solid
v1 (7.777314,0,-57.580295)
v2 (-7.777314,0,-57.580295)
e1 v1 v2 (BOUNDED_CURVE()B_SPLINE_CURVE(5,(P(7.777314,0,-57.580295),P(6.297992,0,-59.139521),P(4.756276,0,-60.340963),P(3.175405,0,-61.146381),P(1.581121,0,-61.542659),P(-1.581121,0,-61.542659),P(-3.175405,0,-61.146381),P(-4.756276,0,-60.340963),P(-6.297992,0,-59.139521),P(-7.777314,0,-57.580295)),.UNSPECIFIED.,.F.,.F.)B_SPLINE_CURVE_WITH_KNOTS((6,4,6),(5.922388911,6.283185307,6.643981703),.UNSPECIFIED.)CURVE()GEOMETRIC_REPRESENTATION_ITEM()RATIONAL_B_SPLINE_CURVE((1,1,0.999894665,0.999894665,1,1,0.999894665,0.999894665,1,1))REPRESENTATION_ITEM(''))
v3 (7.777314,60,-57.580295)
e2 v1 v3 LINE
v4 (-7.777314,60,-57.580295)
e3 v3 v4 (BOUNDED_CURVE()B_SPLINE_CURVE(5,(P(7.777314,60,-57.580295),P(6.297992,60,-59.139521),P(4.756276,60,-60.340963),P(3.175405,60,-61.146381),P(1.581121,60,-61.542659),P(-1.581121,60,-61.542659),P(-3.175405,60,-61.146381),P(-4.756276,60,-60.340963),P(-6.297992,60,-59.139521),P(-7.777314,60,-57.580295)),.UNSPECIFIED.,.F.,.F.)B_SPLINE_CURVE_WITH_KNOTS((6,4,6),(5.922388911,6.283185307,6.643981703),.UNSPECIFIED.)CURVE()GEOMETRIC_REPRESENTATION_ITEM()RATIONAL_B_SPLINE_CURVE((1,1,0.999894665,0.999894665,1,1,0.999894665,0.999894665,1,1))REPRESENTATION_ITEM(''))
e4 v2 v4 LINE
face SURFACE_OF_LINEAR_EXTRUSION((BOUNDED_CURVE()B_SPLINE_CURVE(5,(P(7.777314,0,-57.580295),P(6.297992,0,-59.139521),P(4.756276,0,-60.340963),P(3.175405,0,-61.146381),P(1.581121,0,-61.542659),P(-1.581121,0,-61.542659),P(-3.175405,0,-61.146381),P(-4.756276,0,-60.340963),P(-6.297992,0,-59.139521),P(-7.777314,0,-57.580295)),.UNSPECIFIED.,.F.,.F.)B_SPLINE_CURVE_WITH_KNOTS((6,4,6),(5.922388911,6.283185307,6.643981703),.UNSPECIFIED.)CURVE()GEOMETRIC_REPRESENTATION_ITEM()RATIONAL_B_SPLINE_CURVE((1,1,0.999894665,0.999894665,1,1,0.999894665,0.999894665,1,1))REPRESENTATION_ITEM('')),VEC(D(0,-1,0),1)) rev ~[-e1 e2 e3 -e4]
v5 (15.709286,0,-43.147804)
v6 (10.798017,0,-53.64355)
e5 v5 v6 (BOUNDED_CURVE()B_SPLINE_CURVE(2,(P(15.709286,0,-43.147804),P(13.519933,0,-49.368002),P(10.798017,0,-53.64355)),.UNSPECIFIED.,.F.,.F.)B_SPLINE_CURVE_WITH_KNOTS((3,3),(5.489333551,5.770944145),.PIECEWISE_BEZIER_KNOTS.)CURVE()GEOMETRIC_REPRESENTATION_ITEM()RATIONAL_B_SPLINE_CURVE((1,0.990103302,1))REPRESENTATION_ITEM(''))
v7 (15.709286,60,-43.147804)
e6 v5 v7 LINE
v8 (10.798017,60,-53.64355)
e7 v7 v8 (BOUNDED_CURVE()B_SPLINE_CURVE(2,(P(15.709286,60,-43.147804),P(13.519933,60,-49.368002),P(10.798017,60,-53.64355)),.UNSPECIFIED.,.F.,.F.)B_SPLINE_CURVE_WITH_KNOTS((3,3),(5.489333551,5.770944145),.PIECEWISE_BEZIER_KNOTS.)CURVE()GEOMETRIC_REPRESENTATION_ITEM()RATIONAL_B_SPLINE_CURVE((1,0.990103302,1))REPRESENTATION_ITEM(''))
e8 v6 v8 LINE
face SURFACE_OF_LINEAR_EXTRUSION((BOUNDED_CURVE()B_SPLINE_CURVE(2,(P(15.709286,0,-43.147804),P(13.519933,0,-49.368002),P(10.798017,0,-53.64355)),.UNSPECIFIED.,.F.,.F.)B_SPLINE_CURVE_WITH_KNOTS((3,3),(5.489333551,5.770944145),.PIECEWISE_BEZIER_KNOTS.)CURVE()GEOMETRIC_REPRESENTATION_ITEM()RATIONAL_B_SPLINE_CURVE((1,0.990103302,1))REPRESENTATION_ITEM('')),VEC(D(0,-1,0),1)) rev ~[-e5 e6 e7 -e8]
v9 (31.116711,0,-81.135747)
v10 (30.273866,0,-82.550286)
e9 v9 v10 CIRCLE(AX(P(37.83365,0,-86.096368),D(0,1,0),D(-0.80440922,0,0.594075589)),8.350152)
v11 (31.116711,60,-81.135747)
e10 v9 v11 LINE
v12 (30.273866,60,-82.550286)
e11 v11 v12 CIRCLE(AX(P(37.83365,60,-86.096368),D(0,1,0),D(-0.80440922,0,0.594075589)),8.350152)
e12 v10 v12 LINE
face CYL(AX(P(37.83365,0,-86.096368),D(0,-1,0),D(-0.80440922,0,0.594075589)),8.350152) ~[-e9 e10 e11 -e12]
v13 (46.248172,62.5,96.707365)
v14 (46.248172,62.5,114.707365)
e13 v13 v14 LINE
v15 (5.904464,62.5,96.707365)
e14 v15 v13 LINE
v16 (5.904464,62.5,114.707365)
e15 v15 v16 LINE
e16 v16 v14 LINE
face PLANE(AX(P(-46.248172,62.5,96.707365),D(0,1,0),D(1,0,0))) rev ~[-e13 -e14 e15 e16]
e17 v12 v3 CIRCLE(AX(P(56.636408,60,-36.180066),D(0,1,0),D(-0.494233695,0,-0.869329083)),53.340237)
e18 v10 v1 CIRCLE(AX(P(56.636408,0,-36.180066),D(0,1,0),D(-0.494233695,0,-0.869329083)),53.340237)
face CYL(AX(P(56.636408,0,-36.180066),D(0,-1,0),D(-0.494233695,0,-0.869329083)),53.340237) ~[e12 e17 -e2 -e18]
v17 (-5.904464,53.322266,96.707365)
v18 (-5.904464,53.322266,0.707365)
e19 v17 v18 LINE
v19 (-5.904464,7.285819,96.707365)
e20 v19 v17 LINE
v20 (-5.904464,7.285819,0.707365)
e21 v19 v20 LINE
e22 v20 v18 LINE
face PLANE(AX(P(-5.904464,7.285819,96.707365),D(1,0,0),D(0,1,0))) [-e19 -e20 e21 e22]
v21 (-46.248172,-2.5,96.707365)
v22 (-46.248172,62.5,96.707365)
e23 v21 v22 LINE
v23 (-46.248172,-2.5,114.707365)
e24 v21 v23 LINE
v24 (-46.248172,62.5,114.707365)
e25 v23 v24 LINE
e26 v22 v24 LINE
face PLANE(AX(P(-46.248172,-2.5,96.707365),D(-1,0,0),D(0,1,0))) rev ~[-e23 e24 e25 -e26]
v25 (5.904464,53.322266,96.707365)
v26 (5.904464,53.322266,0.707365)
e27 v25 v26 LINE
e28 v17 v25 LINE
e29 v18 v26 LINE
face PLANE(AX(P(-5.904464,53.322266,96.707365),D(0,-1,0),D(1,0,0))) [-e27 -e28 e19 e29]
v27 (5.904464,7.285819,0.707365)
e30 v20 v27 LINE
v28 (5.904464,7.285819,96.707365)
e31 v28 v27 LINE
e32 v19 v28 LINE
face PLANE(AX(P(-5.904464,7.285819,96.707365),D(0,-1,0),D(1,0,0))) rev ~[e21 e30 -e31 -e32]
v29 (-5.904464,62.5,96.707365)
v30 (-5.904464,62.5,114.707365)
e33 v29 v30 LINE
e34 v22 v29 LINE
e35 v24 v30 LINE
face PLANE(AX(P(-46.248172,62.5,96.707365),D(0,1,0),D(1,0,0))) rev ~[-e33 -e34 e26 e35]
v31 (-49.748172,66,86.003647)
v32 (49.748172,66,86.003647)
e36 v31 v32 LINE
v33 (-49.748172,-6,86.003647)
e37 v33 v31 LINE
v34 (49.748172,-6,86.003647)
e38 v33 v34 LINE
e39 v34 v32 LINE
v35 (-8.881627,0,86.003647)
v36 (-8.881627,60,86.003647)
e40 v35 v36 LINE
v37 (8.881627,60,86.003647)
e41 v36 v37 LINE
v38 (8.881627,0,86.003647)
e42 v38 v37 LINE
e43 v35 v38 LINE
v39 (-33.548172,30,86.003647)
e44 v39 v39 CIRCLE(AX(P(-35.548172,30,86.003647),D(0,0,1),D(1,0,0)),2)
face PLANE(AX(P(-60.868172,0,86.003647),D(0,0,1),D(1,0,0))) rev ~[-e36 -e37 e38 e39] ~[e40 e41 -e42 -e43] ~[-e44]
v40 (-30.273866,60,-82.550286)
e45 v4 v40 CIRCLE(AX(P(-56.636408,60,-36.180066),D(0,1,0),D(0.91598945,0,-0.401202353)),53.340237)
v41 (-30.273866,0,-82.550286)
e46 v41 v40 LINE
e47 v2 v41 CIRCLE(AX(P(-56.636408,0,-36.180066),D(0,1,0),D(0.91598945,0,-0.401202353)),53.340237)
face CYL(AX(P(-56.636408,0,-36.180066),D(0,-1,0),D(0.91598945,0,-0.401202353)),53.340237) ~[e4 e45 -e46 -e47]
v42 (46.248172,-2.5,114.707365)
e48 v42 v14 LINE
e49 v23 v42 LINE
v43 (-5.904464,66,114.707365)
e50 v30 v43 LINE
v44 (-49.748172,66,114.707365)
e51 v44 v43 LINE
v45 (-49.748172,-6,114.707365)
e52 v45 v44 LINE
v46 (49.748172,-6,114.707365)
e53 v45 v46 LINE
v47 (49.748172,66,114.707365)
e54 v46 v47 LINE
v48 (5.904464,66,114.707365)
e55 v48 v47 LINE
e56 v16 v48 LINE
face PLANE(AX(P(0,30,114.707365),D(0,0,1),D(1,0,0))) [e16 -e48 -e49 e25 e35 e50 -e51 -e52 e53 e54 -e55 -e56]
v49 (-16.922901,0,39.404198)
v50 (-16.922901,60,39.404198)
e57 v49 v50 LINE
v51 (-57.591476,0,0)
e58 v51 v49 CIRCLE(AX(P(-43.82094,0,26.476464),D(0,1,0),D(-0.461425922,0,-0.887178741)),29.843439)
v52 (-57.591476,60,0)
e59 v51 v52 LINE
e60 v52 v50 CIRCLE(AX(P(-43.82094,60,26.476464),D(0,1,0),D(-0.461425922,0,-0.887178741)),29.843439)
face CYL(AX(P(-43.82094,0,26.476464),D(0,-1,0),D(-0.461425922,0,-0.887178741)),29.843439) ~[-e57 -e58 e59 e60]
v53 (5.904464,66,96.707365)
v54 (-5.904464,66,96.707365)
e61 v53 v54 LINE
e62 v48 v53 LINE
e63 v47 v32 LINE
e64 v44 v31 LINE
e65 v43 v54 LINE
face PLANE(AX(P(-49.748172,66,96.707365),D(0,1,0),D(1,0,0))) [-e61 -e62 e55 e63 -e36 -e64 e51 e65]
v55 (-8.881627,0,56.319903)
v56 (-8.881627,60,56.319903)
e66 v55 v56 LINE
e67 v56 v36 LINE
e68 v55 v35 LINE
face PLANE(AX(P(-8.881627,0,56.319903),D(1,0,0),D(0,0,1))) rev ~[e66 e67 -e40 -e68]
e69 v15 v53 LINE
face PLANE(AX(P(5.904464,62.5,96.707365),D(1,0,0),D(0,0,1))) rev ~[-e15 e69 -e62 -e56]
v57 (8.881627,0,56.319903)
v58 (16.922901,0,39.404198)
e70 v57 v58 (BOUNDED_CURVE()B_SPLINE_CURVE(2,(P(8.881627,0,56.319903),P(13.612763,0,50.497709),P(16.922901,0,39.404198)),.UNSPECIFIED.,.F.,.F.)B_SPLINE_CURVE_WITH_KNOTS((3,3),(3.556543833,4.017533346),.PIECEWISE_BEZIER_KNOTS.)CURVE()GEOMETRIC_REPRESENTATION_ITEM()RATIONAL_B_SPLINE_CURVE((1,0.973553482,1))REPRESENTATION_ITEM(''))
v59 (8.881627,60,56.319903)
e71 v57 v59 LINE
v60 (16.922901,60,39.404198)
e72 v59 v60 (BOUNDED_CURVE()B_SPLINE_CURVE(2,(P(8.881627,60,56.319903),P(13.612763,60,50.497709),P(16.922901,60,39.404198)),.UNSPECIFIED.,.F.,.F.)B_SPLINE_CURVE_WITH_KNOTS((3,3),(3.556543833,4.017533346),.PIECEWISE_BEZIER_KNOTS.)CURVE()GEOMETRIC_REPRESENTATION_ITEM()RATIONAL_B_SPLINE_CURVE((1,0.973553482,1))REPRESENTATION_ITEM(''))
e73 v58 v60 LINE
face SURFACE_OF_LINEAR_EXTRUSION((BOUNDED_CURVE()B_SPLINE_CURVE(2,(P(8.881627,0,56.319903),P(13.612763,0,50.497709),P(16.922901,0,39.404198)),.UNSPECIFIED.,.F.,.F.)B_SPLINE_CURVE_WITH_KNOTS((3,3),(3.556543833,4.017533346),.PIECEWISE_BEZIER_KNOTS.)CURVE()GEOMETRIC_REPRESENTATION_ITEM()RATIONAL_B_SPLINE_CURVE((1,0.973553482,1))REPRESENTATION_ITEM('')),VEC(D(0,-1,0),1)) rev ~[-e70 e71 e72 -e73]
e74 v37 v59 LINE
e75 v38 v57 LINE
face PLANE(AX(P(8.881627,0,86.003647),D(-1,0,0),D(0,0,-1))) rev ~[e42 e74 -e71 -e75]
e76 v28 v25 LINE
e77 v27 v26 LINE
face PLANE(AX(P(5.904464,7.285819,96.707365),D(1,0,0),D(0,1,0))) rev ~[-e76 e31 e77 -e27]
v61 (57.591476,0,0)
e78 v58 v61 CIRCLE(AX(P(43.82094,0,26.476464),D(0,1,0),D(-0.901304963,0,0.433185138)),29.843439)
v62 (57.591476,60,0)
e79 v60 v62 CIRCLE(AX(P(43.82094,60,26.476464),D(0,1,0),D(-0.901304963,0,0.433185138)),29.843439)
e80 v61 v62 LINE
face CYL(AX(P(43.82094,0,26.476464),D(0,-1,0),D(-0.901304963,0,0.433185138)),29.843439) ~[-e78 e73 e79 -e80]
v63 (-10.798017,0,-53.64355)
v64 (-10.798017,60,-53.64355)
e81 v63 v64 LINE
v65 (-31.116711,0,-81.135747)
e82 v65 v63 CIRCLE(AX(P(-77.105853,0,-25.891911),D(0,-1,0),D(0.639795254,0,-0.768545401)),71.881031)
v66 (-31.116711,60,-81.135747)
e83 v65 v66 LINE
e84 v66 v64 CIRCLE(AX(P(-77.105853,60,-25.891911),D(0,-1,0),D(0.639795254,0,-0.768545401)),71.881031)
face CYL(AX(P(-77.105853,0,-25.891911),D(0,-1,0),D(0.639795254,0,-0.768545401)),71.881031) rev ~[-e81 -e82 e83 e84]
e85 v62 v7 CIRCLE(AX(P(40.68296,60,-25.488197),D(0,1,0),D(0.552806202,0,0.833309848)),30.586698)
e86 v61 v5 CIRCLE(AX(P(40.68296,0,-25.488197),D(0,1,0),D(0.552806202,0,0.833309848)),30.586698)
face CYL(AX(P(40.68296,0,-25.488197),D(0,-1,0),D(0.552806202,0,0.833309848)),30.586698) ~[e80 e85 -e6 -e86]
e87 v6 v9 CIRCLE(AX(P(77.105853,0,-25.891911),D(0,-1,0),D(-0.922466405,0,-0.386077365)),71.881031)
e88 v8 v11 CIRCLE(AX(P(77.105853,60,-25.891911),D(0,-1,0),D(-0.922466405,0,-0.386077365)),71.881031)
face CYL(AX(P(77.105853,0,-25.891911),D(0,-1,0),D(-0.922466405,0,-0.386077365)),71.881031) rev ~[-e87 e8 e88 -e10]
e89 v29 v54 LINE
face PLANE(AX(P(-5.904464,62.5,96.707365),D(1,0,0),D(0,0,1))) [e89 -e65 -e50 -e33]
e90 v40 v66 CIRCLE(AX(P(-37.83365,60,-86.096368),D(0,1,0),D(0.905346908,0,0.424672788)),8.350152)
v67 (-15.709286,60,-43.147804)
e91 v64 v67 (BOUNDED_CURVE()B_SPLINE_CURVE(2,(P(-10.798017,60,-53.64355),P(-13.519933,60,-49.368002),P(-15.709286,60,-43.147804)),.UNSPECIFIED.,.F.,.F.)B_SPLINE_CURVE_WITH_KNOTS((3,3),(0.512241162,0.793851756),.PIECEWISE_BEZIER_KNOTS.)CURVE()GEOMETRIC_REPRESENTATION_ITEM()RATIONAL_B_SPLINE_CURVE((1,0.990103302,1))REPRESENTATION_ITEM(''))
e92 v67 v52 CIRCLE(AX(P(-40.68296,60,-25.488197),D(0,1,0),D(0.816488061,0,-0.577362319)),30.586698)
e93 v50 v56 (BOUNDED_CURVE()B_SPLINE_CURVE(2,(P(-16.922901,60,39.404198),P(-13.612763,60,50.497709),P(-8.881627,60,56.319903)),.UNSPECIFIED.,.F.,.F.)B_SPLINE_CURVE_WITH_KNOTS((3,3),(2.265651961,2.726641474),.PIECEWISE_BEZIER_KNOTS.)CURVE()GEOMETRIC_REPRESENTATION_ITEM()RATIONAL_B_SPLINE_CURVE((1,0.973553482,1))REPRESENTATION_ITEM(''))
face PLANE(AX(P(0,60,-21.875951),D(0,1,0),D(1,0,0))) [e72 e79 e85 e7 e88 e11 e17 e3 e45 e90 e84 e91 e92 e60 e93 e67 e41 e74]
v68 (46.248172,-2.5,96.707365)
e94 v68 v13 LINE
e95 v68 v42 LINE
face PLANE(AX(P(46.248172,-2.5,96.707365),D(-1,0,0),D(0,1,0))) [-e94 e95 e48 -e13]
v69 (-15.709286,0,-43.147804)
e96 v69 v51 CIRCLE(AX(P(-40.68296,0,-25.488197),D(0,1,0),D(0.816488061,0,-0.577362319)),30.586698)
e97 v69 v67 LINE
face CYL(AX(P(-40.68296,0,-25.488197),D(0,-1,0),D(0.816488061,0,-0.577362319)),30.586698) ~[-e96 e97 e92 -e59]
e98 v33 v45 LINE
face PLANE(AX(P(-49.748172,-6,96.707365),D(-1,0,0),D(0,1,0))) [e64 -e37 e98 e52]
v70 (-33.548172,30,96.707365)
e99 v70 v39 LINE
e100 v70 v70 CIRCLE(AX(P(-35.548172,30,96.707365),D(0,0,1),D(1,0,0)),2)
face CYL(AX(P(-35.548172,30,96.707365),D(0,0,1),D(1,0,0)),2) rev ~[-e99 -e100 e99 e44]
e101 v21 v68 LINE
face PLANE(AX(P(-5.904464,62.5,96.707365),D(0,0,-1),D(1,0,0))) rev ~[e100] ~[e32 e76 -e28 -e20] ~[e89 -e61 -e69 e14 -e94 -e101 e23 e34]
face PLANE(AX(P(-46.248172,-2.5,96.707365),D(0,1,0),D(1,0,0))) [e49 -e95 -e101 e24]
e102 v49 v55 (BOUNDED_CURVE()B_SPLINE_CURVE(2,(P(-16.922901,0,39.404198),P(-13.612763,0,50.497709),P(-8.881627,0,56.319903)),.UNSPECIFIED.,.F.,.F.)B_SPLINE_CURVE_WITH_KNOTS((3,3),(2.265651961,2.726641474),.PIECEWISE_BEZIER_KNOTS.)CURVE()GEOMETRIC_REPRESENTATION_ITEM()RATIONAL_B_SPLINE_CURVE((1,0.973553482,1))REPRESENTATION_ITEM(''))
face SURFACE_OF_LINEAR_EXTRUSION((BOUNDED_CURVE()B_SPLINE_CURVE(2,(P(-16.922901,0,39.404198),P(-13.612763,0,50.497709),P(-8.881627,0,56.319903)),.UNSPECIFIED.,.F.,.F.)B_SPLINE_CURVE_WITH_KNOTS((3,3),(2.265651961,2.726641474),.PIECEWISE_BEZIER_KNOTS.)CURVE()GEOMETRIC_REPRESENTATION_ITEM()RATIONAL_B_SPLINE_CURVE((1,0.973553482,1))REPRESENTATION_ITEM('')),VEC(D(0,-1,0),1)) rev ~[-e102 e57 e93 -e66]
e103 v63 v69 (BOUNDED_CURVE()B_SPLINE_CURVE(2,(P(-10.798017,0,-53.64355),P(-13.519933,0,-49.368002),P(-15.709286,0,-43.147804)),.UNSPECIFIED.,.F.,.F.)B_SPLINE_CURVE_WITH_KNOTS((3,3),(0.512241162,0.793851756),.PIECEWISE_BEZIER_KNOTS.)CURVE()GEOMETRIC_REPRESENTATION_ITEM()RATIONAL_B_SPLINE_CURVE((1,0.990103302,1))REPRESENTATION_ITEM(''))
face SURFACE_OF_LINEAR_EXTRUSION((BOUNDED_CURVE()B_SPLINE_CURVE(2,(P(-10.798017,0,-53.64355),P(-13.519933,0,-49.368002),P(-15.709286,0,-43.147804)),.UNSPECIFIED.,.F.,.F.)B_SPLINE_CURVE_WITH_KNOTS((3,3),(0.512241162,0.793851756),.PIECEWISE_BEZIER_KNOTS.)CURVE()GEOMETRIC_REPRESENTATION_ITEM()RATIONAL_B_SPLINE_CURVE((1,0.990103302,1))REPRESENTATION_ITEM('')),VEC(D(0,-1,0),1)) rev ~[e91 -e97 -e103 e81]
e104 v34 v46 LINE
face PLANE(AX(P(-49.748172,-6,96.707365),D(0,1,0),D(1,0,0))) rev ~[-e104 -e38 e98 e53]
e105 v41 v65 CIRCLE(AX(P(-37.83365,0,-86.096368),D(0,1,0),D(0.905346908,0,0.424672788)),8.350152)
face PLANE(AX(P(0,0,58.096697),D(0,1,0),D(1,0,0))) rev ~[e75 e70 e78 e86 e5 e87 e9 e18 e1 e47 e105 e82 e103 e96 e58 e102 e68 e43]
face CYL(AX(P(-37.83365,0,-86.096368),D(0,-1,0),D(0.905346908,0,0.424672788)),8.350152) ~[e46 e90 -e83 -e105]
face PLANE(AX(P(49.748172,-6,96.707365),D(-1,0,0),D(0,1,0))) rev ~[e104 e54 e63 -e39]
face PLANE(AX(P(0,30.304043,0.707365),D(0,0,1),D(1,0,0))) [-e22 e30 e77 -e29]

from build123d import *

# Parameters (mm, degrees)
BOSS_EXTRUDE1_DEPTH   = 60
BOSS_EXTRUDE1_2_DEPTH = 60
BOSS_EXTRUDE2_DEPTH   = 60
SKETCH5_W             = 11.80892804
SKETCH5_H             = 46.036446736
CUT_EXTRUDE1_DEPTH    = 96
SKETCH6_W             = 121.736344994
SKETCH6_H             = 10.703718027
BOSS_EXTRUDE5_DEPTH   = 6
SKETCH8_W             = 121.736344994
SKETCH8_H             = 10.703718027
BOSS_EXTRUDE6_DEPTH   = 6
SKETCH9_W             = 10.703718027
SKETCH9_H             = 72
CUT_EXTRUDE2_DEPTH    = 11.12
SKETCH10_W            = 10.703718027
SKETCH10_H            = 72
CUT_EXTRUDE3_DEPTH    = 11.12
SKETCH11_W            = 99.496344994
SKETCH11_H            = 72
SKETCH11_W_2          = 92.496344994
SKETCH11_H_2          = 65
BOSS_EXTRUDE7_DEPTH   = 18
SKETCH13_W            = 11.80892804
SKETCH13_H            = 18
CUT_EXTRUDE4_DEPTH    = 18
CUT_EXTRUDE5_REACH    = 217.226


with BuildPart() as part:
    # Sketch2 → Boss-Extrude1 (new body)
    with BuildSketch(Plane(origin=(0, 0, 0), x_dir=(1, 0, 0), z_dir=(0, 1, 0))):
        with BuildLine():
            add(Edge.make_bspline(
                [(7.777313634, 57.580294912), (4.018004463, 61.542658867), (0, 61.542658867)],
                knots=[5.922388911, 5.922388911, 5.922388911, 6.283185307, 6.283185307, 6.283185307], degree=2, weights=[1, 0.983772326, 1]))
            add(Edge.make_bspline(
                [(0, 61.542658867), (-4.018004463, 61.542658867), (-7.777313634, 57.580294912)],
                knots=[0, 0, 0, 0.360796396, 0.360796396, 0.360796396], degree=2, weights=[1, 0.983772326, 1]))
            ThreePointArc((-7.777313634, 57.580294912), (-17.007519977, 71.883457215), (-30.273865697, 82.550285809))
            ThreePointArc((-30.273865697, 82.550285809), (-45.006964161, 90.370546247), (-31.116710716, 81.135746686))
            ThreePointArc((-31.116710716, 81.135746686), (-19.299209246, 68.615142689), (-10.798016849, 53.643549812))
            add(Edge.make_bspline(
                [(-10.798016849, 53.643549812), (-13.519932633, 49.368001998), (-15.70928604, 43.147803925)],
                knots=[0.512241162, 0.512241162, 0.512241162, 0.793851756, 0.793851756, 0.793851756], degree=2, weights=[1, 0.990103302, 1]))
            ThreePointArc((-15.70928604, 43.147803925), (-62.630509673, 46.791979985), (-57.591476489, 0))
            ThreePointArc((-57.591476489, 0), (-64.587633529, -47.909506078), (-16.922901007, -39.404198342))
            add(Edge.make_bspline(
                [(-16.922901007, -39.404198342), (-13.612763141, -50.497708668), (-8.881626587, -56.319902877)],
                knots=[2.265651961, 2.265651961, 2.265651961, 2.726641474, 2.726641474, 2.726641474], degree=2, weights=[1, 0.973553482, 1]))
            Line((-8.881626587, -56.319902877), (8.881626587, -56.319902877))
            add(Edge.make_bspline(
                [(8.881626587, -56.319902877), (13.612763141, -50.497708668), (16.922901007, -39.404198342)],
                knots=[3.556543833, 3.556543833, 3.556543833, 4.017533346, 4.017533346, 4.017533346], degree=2, weights=[1, 0.973553482, 1]))
            ThreePointArc((16.922901007, -39.404198342), (64.587633529, -47.909506078), (57.591476489, 0))
            ThreePointArc((57.591476489, 0), (62.630509673, 46.791979985), (15.70928604, 43.147803925))
            add(Edge.make_bspline(
                [(15.70928604, 43.147803925), (13.519932633, 49.368001998), (10.798016849, 53.643549812)],
                knots=[5.489333551, 5.489333551, 5.489333551, 5.770944145, 5.770944145, 5.770944145], degree=2, weights=[1, 0.990103302, 1]))
            ThreePointArc((10.798016849, 53.643549812), (19.299209246, 68.615142689), (31.116710716, 81.135746686))
            ThreePointArc((31.116710716, 81.135746686), (45.006964161, 90.370546247), (30.273865697, 82.550285809))
            ThreePointArc((30.273865697, 82.550285809), (17.007519977, 71.883457215), (7.777313634, 57.580294912))
        make_face()
    extrude(amount=BOSS_EXTRUDE1_DEPTH)



with BuildPart() as body_2:
    # Sketch2 → Boss-Extrude1 2 (new body)
    with BuildSketch(Plane(origin=(0, 0, 0), x_dir=(1, 0, 0), z_dir=(0, 1, 0))):
        with BuildLine():
            add(Edge.make_bspline(
                [(0, -61.542658867), (4.637595748, -61.542658867), (8.881626587, -56.319902877)],
                knots=[3.141592654, 3.141592654, 3.141592654, 3.556543833, 3.556543833, 3.556543833], degree=2, weights=[1, 0.978554036, 1]))
            add(Edge.make_bspline(
                [(-8.881626587, -56.319902877), (-4.637595748, -61.542658867), (0, -61.542658867)],
                knots=[2.726641474, 2.726641474, 2.726641474, 3.141592654, 3.141592654, 3.141592654], degree=2, weights=[1, 0.978554036, 1]))
            Line((-8.881626587, -56.319902877), (-8.881626587, -86.003647397))
            Line((-8.881626587, -86.003647397), (-60.868172497, -86.003647397))
            Line((-60.868172497, -86.003647397), (-60.868172497, -96.707365424))
            Line((-60.868172497, -96.707365424), (60.868172497, -96.707365424))
            Line((60.868172497, -96.707365424), (60.868172497, -86.003647397))
            Line((60.868172497, -86.003647397), (8.881626587, -86.003647397))
            Line((8.881626587, -86.003647397), (8.881626587, -56.319902877))
        make_face()
    extrude(amount=BOSS_EXTRUDE1_2_DEPTH)


with BuildPart() as part_1:
    add(part.part)

    add(body_2.part)  # Boss-Extrude2 merges body 2
    # Sketch2<4> → Boss-Extrude2 (add)
    with BuildSketch(Plane(origin=(0, 0, 0), x_dir=(1, 0, 0), z_dir=(0, 1, 0))):
        with BuildLine():
            Line((8.881626587, -56.319902877), (-8.881626587, -56.319902877))
            add(Edge.make_bspline(
                [(-8.881626587, -56.319902877), (-4.637595748, -61.542658867), (0, -61.542658867)],
                knots=[2.726641474, 2.726641474, 2.726641474, 3.141592654, 3.141592654, 3.141592654], degree=2, weights=[1, 0.978554036, 1]))
            add(Edge.make_bspline(
                [(0, -61.542658867), (4.637595748, -61.542658867), (8.881626587, -56.319902877)],
                knots=[3.141592654, 3.141592654, 3.141592654, 3.556543833, 3.556543833, 3.556543833], degree=2, weights=[1, 0.978554036, 1]))
        make_face()
    extrude(amount=BOSS_EXTRUDE2_DEPTH)

    # Sketch5 → Cut-Extrude1 (cut)
    with BuildSketch(Plane.XY.offset(96.707365424)):
        with Locations((0, 30.304042831)):
            Rectangle(SKETCH5_W, SKETCH5_H)
    extrude(amount=-CUT_EXTRUDE1_DEPTH, mode=Mode.SUBTRACT)

    # Sketch6 → Boss-Extrude5 (add)
    with BuildSketch(Plane(origin=(0, 60, 0), x_dir=(1, 0, 0), z_dir=(0, 1, 0))):
        with Locations((0, -91.35550641)):
            Rectangle(SKETCH6_W, SKETCH6_H)
    extrude(amount=BOSS_EXTRUDE5_DEPTH)

    # Sketch8 → Boss-Extrude6 (add)
    with BuildSketch(Plane.XZ):
        with Locations((0, 91.35550641)):
            Rectangle(SKETCH8_W, SKETCH8_H)
    extrude(amount=BOSS_EXTRUDE6_DEPTH)

    # Sketch9 → Cut-Extrude2 (cut)
    with BuildSketch(Plane(origin=(60.868172497, 0, 0), x_dir=(0, 0, -1), z_dir=(1, 0, 0))):
        with Locations((-91.35550641, 30)):
            Rectangle(SKETCH9_W, SKETCH9_H)
    extrude(amount=-CUT_EXTRUDE2_DEPTH, mode=Mode.SUBTRACT)

    # Sketch10 → Cut-Extrude3 (cut)
    with BuildSketch(Plane.ZY.offset(60.868172497)):
        with Locations((91.35550641, 30)):
            Rectangle(SKETCH10_W, SKETCH10_H)
    extrude(amount=-CUT_EXTRUDE3_DEPTH, mode=Mode.SUBTRACT)

    # Sketch11 → Boss-Extrude7 (add)
    with BuildSketch(Plane.XY.offset(96.707365424)):
        with Locations((0, 30)):
            Rectangle(SKETCH11_W, SKETCH11_H)
        with Locations((0, 30)):
            Rectangle(SKETCH11_W_2, SKETCH11_H_2, mode=Mode.SUBTRACT)
    extrude(amount=BOSS_EXTRUDE7_DEPTH)

    # Sketch13 → Cut-Extrude4 (cut)
    with BuildSketch(Plane.XZ.offset(-62.5)):
        with Locations((0, 105.707365424)):
            Rectangle(SKETCH13_W, SKETCH13_H)
    extrude(amount=-CUT_EXTRUDE4_DEPTH, mode=Mode.SUBTRACT)

    # Sketch14 → Cut-Extrude5 (cut, up to next)
    with BuildSketch(Plane.XY.offset(96.707365424), mode=Mode.PRIVATE) as cut_extrude5_sk1:
        with BuildLine():
            ThreePointArc((-37.548172497, 30), (-35.548172497, 28), (-33.548172497, 30))
            ThreePointArc((-33.548172497, 30), (-35.548172497, 32), (-37.548172497, 30))
        make_face()
    cut_extrude5_tool1 = extrude(cut_extrude5_sk1.sketch, amount=-CUT_EXTRUDE5_REACH, mode=Mode.PRIVATE) & part_1.part
    add(cut_extrude5_tool1.solids().sort_by_distance((-35.548172, 30, 96.707365))[0], mode=Mode.SUBTRACT)


solid = part_1.part
